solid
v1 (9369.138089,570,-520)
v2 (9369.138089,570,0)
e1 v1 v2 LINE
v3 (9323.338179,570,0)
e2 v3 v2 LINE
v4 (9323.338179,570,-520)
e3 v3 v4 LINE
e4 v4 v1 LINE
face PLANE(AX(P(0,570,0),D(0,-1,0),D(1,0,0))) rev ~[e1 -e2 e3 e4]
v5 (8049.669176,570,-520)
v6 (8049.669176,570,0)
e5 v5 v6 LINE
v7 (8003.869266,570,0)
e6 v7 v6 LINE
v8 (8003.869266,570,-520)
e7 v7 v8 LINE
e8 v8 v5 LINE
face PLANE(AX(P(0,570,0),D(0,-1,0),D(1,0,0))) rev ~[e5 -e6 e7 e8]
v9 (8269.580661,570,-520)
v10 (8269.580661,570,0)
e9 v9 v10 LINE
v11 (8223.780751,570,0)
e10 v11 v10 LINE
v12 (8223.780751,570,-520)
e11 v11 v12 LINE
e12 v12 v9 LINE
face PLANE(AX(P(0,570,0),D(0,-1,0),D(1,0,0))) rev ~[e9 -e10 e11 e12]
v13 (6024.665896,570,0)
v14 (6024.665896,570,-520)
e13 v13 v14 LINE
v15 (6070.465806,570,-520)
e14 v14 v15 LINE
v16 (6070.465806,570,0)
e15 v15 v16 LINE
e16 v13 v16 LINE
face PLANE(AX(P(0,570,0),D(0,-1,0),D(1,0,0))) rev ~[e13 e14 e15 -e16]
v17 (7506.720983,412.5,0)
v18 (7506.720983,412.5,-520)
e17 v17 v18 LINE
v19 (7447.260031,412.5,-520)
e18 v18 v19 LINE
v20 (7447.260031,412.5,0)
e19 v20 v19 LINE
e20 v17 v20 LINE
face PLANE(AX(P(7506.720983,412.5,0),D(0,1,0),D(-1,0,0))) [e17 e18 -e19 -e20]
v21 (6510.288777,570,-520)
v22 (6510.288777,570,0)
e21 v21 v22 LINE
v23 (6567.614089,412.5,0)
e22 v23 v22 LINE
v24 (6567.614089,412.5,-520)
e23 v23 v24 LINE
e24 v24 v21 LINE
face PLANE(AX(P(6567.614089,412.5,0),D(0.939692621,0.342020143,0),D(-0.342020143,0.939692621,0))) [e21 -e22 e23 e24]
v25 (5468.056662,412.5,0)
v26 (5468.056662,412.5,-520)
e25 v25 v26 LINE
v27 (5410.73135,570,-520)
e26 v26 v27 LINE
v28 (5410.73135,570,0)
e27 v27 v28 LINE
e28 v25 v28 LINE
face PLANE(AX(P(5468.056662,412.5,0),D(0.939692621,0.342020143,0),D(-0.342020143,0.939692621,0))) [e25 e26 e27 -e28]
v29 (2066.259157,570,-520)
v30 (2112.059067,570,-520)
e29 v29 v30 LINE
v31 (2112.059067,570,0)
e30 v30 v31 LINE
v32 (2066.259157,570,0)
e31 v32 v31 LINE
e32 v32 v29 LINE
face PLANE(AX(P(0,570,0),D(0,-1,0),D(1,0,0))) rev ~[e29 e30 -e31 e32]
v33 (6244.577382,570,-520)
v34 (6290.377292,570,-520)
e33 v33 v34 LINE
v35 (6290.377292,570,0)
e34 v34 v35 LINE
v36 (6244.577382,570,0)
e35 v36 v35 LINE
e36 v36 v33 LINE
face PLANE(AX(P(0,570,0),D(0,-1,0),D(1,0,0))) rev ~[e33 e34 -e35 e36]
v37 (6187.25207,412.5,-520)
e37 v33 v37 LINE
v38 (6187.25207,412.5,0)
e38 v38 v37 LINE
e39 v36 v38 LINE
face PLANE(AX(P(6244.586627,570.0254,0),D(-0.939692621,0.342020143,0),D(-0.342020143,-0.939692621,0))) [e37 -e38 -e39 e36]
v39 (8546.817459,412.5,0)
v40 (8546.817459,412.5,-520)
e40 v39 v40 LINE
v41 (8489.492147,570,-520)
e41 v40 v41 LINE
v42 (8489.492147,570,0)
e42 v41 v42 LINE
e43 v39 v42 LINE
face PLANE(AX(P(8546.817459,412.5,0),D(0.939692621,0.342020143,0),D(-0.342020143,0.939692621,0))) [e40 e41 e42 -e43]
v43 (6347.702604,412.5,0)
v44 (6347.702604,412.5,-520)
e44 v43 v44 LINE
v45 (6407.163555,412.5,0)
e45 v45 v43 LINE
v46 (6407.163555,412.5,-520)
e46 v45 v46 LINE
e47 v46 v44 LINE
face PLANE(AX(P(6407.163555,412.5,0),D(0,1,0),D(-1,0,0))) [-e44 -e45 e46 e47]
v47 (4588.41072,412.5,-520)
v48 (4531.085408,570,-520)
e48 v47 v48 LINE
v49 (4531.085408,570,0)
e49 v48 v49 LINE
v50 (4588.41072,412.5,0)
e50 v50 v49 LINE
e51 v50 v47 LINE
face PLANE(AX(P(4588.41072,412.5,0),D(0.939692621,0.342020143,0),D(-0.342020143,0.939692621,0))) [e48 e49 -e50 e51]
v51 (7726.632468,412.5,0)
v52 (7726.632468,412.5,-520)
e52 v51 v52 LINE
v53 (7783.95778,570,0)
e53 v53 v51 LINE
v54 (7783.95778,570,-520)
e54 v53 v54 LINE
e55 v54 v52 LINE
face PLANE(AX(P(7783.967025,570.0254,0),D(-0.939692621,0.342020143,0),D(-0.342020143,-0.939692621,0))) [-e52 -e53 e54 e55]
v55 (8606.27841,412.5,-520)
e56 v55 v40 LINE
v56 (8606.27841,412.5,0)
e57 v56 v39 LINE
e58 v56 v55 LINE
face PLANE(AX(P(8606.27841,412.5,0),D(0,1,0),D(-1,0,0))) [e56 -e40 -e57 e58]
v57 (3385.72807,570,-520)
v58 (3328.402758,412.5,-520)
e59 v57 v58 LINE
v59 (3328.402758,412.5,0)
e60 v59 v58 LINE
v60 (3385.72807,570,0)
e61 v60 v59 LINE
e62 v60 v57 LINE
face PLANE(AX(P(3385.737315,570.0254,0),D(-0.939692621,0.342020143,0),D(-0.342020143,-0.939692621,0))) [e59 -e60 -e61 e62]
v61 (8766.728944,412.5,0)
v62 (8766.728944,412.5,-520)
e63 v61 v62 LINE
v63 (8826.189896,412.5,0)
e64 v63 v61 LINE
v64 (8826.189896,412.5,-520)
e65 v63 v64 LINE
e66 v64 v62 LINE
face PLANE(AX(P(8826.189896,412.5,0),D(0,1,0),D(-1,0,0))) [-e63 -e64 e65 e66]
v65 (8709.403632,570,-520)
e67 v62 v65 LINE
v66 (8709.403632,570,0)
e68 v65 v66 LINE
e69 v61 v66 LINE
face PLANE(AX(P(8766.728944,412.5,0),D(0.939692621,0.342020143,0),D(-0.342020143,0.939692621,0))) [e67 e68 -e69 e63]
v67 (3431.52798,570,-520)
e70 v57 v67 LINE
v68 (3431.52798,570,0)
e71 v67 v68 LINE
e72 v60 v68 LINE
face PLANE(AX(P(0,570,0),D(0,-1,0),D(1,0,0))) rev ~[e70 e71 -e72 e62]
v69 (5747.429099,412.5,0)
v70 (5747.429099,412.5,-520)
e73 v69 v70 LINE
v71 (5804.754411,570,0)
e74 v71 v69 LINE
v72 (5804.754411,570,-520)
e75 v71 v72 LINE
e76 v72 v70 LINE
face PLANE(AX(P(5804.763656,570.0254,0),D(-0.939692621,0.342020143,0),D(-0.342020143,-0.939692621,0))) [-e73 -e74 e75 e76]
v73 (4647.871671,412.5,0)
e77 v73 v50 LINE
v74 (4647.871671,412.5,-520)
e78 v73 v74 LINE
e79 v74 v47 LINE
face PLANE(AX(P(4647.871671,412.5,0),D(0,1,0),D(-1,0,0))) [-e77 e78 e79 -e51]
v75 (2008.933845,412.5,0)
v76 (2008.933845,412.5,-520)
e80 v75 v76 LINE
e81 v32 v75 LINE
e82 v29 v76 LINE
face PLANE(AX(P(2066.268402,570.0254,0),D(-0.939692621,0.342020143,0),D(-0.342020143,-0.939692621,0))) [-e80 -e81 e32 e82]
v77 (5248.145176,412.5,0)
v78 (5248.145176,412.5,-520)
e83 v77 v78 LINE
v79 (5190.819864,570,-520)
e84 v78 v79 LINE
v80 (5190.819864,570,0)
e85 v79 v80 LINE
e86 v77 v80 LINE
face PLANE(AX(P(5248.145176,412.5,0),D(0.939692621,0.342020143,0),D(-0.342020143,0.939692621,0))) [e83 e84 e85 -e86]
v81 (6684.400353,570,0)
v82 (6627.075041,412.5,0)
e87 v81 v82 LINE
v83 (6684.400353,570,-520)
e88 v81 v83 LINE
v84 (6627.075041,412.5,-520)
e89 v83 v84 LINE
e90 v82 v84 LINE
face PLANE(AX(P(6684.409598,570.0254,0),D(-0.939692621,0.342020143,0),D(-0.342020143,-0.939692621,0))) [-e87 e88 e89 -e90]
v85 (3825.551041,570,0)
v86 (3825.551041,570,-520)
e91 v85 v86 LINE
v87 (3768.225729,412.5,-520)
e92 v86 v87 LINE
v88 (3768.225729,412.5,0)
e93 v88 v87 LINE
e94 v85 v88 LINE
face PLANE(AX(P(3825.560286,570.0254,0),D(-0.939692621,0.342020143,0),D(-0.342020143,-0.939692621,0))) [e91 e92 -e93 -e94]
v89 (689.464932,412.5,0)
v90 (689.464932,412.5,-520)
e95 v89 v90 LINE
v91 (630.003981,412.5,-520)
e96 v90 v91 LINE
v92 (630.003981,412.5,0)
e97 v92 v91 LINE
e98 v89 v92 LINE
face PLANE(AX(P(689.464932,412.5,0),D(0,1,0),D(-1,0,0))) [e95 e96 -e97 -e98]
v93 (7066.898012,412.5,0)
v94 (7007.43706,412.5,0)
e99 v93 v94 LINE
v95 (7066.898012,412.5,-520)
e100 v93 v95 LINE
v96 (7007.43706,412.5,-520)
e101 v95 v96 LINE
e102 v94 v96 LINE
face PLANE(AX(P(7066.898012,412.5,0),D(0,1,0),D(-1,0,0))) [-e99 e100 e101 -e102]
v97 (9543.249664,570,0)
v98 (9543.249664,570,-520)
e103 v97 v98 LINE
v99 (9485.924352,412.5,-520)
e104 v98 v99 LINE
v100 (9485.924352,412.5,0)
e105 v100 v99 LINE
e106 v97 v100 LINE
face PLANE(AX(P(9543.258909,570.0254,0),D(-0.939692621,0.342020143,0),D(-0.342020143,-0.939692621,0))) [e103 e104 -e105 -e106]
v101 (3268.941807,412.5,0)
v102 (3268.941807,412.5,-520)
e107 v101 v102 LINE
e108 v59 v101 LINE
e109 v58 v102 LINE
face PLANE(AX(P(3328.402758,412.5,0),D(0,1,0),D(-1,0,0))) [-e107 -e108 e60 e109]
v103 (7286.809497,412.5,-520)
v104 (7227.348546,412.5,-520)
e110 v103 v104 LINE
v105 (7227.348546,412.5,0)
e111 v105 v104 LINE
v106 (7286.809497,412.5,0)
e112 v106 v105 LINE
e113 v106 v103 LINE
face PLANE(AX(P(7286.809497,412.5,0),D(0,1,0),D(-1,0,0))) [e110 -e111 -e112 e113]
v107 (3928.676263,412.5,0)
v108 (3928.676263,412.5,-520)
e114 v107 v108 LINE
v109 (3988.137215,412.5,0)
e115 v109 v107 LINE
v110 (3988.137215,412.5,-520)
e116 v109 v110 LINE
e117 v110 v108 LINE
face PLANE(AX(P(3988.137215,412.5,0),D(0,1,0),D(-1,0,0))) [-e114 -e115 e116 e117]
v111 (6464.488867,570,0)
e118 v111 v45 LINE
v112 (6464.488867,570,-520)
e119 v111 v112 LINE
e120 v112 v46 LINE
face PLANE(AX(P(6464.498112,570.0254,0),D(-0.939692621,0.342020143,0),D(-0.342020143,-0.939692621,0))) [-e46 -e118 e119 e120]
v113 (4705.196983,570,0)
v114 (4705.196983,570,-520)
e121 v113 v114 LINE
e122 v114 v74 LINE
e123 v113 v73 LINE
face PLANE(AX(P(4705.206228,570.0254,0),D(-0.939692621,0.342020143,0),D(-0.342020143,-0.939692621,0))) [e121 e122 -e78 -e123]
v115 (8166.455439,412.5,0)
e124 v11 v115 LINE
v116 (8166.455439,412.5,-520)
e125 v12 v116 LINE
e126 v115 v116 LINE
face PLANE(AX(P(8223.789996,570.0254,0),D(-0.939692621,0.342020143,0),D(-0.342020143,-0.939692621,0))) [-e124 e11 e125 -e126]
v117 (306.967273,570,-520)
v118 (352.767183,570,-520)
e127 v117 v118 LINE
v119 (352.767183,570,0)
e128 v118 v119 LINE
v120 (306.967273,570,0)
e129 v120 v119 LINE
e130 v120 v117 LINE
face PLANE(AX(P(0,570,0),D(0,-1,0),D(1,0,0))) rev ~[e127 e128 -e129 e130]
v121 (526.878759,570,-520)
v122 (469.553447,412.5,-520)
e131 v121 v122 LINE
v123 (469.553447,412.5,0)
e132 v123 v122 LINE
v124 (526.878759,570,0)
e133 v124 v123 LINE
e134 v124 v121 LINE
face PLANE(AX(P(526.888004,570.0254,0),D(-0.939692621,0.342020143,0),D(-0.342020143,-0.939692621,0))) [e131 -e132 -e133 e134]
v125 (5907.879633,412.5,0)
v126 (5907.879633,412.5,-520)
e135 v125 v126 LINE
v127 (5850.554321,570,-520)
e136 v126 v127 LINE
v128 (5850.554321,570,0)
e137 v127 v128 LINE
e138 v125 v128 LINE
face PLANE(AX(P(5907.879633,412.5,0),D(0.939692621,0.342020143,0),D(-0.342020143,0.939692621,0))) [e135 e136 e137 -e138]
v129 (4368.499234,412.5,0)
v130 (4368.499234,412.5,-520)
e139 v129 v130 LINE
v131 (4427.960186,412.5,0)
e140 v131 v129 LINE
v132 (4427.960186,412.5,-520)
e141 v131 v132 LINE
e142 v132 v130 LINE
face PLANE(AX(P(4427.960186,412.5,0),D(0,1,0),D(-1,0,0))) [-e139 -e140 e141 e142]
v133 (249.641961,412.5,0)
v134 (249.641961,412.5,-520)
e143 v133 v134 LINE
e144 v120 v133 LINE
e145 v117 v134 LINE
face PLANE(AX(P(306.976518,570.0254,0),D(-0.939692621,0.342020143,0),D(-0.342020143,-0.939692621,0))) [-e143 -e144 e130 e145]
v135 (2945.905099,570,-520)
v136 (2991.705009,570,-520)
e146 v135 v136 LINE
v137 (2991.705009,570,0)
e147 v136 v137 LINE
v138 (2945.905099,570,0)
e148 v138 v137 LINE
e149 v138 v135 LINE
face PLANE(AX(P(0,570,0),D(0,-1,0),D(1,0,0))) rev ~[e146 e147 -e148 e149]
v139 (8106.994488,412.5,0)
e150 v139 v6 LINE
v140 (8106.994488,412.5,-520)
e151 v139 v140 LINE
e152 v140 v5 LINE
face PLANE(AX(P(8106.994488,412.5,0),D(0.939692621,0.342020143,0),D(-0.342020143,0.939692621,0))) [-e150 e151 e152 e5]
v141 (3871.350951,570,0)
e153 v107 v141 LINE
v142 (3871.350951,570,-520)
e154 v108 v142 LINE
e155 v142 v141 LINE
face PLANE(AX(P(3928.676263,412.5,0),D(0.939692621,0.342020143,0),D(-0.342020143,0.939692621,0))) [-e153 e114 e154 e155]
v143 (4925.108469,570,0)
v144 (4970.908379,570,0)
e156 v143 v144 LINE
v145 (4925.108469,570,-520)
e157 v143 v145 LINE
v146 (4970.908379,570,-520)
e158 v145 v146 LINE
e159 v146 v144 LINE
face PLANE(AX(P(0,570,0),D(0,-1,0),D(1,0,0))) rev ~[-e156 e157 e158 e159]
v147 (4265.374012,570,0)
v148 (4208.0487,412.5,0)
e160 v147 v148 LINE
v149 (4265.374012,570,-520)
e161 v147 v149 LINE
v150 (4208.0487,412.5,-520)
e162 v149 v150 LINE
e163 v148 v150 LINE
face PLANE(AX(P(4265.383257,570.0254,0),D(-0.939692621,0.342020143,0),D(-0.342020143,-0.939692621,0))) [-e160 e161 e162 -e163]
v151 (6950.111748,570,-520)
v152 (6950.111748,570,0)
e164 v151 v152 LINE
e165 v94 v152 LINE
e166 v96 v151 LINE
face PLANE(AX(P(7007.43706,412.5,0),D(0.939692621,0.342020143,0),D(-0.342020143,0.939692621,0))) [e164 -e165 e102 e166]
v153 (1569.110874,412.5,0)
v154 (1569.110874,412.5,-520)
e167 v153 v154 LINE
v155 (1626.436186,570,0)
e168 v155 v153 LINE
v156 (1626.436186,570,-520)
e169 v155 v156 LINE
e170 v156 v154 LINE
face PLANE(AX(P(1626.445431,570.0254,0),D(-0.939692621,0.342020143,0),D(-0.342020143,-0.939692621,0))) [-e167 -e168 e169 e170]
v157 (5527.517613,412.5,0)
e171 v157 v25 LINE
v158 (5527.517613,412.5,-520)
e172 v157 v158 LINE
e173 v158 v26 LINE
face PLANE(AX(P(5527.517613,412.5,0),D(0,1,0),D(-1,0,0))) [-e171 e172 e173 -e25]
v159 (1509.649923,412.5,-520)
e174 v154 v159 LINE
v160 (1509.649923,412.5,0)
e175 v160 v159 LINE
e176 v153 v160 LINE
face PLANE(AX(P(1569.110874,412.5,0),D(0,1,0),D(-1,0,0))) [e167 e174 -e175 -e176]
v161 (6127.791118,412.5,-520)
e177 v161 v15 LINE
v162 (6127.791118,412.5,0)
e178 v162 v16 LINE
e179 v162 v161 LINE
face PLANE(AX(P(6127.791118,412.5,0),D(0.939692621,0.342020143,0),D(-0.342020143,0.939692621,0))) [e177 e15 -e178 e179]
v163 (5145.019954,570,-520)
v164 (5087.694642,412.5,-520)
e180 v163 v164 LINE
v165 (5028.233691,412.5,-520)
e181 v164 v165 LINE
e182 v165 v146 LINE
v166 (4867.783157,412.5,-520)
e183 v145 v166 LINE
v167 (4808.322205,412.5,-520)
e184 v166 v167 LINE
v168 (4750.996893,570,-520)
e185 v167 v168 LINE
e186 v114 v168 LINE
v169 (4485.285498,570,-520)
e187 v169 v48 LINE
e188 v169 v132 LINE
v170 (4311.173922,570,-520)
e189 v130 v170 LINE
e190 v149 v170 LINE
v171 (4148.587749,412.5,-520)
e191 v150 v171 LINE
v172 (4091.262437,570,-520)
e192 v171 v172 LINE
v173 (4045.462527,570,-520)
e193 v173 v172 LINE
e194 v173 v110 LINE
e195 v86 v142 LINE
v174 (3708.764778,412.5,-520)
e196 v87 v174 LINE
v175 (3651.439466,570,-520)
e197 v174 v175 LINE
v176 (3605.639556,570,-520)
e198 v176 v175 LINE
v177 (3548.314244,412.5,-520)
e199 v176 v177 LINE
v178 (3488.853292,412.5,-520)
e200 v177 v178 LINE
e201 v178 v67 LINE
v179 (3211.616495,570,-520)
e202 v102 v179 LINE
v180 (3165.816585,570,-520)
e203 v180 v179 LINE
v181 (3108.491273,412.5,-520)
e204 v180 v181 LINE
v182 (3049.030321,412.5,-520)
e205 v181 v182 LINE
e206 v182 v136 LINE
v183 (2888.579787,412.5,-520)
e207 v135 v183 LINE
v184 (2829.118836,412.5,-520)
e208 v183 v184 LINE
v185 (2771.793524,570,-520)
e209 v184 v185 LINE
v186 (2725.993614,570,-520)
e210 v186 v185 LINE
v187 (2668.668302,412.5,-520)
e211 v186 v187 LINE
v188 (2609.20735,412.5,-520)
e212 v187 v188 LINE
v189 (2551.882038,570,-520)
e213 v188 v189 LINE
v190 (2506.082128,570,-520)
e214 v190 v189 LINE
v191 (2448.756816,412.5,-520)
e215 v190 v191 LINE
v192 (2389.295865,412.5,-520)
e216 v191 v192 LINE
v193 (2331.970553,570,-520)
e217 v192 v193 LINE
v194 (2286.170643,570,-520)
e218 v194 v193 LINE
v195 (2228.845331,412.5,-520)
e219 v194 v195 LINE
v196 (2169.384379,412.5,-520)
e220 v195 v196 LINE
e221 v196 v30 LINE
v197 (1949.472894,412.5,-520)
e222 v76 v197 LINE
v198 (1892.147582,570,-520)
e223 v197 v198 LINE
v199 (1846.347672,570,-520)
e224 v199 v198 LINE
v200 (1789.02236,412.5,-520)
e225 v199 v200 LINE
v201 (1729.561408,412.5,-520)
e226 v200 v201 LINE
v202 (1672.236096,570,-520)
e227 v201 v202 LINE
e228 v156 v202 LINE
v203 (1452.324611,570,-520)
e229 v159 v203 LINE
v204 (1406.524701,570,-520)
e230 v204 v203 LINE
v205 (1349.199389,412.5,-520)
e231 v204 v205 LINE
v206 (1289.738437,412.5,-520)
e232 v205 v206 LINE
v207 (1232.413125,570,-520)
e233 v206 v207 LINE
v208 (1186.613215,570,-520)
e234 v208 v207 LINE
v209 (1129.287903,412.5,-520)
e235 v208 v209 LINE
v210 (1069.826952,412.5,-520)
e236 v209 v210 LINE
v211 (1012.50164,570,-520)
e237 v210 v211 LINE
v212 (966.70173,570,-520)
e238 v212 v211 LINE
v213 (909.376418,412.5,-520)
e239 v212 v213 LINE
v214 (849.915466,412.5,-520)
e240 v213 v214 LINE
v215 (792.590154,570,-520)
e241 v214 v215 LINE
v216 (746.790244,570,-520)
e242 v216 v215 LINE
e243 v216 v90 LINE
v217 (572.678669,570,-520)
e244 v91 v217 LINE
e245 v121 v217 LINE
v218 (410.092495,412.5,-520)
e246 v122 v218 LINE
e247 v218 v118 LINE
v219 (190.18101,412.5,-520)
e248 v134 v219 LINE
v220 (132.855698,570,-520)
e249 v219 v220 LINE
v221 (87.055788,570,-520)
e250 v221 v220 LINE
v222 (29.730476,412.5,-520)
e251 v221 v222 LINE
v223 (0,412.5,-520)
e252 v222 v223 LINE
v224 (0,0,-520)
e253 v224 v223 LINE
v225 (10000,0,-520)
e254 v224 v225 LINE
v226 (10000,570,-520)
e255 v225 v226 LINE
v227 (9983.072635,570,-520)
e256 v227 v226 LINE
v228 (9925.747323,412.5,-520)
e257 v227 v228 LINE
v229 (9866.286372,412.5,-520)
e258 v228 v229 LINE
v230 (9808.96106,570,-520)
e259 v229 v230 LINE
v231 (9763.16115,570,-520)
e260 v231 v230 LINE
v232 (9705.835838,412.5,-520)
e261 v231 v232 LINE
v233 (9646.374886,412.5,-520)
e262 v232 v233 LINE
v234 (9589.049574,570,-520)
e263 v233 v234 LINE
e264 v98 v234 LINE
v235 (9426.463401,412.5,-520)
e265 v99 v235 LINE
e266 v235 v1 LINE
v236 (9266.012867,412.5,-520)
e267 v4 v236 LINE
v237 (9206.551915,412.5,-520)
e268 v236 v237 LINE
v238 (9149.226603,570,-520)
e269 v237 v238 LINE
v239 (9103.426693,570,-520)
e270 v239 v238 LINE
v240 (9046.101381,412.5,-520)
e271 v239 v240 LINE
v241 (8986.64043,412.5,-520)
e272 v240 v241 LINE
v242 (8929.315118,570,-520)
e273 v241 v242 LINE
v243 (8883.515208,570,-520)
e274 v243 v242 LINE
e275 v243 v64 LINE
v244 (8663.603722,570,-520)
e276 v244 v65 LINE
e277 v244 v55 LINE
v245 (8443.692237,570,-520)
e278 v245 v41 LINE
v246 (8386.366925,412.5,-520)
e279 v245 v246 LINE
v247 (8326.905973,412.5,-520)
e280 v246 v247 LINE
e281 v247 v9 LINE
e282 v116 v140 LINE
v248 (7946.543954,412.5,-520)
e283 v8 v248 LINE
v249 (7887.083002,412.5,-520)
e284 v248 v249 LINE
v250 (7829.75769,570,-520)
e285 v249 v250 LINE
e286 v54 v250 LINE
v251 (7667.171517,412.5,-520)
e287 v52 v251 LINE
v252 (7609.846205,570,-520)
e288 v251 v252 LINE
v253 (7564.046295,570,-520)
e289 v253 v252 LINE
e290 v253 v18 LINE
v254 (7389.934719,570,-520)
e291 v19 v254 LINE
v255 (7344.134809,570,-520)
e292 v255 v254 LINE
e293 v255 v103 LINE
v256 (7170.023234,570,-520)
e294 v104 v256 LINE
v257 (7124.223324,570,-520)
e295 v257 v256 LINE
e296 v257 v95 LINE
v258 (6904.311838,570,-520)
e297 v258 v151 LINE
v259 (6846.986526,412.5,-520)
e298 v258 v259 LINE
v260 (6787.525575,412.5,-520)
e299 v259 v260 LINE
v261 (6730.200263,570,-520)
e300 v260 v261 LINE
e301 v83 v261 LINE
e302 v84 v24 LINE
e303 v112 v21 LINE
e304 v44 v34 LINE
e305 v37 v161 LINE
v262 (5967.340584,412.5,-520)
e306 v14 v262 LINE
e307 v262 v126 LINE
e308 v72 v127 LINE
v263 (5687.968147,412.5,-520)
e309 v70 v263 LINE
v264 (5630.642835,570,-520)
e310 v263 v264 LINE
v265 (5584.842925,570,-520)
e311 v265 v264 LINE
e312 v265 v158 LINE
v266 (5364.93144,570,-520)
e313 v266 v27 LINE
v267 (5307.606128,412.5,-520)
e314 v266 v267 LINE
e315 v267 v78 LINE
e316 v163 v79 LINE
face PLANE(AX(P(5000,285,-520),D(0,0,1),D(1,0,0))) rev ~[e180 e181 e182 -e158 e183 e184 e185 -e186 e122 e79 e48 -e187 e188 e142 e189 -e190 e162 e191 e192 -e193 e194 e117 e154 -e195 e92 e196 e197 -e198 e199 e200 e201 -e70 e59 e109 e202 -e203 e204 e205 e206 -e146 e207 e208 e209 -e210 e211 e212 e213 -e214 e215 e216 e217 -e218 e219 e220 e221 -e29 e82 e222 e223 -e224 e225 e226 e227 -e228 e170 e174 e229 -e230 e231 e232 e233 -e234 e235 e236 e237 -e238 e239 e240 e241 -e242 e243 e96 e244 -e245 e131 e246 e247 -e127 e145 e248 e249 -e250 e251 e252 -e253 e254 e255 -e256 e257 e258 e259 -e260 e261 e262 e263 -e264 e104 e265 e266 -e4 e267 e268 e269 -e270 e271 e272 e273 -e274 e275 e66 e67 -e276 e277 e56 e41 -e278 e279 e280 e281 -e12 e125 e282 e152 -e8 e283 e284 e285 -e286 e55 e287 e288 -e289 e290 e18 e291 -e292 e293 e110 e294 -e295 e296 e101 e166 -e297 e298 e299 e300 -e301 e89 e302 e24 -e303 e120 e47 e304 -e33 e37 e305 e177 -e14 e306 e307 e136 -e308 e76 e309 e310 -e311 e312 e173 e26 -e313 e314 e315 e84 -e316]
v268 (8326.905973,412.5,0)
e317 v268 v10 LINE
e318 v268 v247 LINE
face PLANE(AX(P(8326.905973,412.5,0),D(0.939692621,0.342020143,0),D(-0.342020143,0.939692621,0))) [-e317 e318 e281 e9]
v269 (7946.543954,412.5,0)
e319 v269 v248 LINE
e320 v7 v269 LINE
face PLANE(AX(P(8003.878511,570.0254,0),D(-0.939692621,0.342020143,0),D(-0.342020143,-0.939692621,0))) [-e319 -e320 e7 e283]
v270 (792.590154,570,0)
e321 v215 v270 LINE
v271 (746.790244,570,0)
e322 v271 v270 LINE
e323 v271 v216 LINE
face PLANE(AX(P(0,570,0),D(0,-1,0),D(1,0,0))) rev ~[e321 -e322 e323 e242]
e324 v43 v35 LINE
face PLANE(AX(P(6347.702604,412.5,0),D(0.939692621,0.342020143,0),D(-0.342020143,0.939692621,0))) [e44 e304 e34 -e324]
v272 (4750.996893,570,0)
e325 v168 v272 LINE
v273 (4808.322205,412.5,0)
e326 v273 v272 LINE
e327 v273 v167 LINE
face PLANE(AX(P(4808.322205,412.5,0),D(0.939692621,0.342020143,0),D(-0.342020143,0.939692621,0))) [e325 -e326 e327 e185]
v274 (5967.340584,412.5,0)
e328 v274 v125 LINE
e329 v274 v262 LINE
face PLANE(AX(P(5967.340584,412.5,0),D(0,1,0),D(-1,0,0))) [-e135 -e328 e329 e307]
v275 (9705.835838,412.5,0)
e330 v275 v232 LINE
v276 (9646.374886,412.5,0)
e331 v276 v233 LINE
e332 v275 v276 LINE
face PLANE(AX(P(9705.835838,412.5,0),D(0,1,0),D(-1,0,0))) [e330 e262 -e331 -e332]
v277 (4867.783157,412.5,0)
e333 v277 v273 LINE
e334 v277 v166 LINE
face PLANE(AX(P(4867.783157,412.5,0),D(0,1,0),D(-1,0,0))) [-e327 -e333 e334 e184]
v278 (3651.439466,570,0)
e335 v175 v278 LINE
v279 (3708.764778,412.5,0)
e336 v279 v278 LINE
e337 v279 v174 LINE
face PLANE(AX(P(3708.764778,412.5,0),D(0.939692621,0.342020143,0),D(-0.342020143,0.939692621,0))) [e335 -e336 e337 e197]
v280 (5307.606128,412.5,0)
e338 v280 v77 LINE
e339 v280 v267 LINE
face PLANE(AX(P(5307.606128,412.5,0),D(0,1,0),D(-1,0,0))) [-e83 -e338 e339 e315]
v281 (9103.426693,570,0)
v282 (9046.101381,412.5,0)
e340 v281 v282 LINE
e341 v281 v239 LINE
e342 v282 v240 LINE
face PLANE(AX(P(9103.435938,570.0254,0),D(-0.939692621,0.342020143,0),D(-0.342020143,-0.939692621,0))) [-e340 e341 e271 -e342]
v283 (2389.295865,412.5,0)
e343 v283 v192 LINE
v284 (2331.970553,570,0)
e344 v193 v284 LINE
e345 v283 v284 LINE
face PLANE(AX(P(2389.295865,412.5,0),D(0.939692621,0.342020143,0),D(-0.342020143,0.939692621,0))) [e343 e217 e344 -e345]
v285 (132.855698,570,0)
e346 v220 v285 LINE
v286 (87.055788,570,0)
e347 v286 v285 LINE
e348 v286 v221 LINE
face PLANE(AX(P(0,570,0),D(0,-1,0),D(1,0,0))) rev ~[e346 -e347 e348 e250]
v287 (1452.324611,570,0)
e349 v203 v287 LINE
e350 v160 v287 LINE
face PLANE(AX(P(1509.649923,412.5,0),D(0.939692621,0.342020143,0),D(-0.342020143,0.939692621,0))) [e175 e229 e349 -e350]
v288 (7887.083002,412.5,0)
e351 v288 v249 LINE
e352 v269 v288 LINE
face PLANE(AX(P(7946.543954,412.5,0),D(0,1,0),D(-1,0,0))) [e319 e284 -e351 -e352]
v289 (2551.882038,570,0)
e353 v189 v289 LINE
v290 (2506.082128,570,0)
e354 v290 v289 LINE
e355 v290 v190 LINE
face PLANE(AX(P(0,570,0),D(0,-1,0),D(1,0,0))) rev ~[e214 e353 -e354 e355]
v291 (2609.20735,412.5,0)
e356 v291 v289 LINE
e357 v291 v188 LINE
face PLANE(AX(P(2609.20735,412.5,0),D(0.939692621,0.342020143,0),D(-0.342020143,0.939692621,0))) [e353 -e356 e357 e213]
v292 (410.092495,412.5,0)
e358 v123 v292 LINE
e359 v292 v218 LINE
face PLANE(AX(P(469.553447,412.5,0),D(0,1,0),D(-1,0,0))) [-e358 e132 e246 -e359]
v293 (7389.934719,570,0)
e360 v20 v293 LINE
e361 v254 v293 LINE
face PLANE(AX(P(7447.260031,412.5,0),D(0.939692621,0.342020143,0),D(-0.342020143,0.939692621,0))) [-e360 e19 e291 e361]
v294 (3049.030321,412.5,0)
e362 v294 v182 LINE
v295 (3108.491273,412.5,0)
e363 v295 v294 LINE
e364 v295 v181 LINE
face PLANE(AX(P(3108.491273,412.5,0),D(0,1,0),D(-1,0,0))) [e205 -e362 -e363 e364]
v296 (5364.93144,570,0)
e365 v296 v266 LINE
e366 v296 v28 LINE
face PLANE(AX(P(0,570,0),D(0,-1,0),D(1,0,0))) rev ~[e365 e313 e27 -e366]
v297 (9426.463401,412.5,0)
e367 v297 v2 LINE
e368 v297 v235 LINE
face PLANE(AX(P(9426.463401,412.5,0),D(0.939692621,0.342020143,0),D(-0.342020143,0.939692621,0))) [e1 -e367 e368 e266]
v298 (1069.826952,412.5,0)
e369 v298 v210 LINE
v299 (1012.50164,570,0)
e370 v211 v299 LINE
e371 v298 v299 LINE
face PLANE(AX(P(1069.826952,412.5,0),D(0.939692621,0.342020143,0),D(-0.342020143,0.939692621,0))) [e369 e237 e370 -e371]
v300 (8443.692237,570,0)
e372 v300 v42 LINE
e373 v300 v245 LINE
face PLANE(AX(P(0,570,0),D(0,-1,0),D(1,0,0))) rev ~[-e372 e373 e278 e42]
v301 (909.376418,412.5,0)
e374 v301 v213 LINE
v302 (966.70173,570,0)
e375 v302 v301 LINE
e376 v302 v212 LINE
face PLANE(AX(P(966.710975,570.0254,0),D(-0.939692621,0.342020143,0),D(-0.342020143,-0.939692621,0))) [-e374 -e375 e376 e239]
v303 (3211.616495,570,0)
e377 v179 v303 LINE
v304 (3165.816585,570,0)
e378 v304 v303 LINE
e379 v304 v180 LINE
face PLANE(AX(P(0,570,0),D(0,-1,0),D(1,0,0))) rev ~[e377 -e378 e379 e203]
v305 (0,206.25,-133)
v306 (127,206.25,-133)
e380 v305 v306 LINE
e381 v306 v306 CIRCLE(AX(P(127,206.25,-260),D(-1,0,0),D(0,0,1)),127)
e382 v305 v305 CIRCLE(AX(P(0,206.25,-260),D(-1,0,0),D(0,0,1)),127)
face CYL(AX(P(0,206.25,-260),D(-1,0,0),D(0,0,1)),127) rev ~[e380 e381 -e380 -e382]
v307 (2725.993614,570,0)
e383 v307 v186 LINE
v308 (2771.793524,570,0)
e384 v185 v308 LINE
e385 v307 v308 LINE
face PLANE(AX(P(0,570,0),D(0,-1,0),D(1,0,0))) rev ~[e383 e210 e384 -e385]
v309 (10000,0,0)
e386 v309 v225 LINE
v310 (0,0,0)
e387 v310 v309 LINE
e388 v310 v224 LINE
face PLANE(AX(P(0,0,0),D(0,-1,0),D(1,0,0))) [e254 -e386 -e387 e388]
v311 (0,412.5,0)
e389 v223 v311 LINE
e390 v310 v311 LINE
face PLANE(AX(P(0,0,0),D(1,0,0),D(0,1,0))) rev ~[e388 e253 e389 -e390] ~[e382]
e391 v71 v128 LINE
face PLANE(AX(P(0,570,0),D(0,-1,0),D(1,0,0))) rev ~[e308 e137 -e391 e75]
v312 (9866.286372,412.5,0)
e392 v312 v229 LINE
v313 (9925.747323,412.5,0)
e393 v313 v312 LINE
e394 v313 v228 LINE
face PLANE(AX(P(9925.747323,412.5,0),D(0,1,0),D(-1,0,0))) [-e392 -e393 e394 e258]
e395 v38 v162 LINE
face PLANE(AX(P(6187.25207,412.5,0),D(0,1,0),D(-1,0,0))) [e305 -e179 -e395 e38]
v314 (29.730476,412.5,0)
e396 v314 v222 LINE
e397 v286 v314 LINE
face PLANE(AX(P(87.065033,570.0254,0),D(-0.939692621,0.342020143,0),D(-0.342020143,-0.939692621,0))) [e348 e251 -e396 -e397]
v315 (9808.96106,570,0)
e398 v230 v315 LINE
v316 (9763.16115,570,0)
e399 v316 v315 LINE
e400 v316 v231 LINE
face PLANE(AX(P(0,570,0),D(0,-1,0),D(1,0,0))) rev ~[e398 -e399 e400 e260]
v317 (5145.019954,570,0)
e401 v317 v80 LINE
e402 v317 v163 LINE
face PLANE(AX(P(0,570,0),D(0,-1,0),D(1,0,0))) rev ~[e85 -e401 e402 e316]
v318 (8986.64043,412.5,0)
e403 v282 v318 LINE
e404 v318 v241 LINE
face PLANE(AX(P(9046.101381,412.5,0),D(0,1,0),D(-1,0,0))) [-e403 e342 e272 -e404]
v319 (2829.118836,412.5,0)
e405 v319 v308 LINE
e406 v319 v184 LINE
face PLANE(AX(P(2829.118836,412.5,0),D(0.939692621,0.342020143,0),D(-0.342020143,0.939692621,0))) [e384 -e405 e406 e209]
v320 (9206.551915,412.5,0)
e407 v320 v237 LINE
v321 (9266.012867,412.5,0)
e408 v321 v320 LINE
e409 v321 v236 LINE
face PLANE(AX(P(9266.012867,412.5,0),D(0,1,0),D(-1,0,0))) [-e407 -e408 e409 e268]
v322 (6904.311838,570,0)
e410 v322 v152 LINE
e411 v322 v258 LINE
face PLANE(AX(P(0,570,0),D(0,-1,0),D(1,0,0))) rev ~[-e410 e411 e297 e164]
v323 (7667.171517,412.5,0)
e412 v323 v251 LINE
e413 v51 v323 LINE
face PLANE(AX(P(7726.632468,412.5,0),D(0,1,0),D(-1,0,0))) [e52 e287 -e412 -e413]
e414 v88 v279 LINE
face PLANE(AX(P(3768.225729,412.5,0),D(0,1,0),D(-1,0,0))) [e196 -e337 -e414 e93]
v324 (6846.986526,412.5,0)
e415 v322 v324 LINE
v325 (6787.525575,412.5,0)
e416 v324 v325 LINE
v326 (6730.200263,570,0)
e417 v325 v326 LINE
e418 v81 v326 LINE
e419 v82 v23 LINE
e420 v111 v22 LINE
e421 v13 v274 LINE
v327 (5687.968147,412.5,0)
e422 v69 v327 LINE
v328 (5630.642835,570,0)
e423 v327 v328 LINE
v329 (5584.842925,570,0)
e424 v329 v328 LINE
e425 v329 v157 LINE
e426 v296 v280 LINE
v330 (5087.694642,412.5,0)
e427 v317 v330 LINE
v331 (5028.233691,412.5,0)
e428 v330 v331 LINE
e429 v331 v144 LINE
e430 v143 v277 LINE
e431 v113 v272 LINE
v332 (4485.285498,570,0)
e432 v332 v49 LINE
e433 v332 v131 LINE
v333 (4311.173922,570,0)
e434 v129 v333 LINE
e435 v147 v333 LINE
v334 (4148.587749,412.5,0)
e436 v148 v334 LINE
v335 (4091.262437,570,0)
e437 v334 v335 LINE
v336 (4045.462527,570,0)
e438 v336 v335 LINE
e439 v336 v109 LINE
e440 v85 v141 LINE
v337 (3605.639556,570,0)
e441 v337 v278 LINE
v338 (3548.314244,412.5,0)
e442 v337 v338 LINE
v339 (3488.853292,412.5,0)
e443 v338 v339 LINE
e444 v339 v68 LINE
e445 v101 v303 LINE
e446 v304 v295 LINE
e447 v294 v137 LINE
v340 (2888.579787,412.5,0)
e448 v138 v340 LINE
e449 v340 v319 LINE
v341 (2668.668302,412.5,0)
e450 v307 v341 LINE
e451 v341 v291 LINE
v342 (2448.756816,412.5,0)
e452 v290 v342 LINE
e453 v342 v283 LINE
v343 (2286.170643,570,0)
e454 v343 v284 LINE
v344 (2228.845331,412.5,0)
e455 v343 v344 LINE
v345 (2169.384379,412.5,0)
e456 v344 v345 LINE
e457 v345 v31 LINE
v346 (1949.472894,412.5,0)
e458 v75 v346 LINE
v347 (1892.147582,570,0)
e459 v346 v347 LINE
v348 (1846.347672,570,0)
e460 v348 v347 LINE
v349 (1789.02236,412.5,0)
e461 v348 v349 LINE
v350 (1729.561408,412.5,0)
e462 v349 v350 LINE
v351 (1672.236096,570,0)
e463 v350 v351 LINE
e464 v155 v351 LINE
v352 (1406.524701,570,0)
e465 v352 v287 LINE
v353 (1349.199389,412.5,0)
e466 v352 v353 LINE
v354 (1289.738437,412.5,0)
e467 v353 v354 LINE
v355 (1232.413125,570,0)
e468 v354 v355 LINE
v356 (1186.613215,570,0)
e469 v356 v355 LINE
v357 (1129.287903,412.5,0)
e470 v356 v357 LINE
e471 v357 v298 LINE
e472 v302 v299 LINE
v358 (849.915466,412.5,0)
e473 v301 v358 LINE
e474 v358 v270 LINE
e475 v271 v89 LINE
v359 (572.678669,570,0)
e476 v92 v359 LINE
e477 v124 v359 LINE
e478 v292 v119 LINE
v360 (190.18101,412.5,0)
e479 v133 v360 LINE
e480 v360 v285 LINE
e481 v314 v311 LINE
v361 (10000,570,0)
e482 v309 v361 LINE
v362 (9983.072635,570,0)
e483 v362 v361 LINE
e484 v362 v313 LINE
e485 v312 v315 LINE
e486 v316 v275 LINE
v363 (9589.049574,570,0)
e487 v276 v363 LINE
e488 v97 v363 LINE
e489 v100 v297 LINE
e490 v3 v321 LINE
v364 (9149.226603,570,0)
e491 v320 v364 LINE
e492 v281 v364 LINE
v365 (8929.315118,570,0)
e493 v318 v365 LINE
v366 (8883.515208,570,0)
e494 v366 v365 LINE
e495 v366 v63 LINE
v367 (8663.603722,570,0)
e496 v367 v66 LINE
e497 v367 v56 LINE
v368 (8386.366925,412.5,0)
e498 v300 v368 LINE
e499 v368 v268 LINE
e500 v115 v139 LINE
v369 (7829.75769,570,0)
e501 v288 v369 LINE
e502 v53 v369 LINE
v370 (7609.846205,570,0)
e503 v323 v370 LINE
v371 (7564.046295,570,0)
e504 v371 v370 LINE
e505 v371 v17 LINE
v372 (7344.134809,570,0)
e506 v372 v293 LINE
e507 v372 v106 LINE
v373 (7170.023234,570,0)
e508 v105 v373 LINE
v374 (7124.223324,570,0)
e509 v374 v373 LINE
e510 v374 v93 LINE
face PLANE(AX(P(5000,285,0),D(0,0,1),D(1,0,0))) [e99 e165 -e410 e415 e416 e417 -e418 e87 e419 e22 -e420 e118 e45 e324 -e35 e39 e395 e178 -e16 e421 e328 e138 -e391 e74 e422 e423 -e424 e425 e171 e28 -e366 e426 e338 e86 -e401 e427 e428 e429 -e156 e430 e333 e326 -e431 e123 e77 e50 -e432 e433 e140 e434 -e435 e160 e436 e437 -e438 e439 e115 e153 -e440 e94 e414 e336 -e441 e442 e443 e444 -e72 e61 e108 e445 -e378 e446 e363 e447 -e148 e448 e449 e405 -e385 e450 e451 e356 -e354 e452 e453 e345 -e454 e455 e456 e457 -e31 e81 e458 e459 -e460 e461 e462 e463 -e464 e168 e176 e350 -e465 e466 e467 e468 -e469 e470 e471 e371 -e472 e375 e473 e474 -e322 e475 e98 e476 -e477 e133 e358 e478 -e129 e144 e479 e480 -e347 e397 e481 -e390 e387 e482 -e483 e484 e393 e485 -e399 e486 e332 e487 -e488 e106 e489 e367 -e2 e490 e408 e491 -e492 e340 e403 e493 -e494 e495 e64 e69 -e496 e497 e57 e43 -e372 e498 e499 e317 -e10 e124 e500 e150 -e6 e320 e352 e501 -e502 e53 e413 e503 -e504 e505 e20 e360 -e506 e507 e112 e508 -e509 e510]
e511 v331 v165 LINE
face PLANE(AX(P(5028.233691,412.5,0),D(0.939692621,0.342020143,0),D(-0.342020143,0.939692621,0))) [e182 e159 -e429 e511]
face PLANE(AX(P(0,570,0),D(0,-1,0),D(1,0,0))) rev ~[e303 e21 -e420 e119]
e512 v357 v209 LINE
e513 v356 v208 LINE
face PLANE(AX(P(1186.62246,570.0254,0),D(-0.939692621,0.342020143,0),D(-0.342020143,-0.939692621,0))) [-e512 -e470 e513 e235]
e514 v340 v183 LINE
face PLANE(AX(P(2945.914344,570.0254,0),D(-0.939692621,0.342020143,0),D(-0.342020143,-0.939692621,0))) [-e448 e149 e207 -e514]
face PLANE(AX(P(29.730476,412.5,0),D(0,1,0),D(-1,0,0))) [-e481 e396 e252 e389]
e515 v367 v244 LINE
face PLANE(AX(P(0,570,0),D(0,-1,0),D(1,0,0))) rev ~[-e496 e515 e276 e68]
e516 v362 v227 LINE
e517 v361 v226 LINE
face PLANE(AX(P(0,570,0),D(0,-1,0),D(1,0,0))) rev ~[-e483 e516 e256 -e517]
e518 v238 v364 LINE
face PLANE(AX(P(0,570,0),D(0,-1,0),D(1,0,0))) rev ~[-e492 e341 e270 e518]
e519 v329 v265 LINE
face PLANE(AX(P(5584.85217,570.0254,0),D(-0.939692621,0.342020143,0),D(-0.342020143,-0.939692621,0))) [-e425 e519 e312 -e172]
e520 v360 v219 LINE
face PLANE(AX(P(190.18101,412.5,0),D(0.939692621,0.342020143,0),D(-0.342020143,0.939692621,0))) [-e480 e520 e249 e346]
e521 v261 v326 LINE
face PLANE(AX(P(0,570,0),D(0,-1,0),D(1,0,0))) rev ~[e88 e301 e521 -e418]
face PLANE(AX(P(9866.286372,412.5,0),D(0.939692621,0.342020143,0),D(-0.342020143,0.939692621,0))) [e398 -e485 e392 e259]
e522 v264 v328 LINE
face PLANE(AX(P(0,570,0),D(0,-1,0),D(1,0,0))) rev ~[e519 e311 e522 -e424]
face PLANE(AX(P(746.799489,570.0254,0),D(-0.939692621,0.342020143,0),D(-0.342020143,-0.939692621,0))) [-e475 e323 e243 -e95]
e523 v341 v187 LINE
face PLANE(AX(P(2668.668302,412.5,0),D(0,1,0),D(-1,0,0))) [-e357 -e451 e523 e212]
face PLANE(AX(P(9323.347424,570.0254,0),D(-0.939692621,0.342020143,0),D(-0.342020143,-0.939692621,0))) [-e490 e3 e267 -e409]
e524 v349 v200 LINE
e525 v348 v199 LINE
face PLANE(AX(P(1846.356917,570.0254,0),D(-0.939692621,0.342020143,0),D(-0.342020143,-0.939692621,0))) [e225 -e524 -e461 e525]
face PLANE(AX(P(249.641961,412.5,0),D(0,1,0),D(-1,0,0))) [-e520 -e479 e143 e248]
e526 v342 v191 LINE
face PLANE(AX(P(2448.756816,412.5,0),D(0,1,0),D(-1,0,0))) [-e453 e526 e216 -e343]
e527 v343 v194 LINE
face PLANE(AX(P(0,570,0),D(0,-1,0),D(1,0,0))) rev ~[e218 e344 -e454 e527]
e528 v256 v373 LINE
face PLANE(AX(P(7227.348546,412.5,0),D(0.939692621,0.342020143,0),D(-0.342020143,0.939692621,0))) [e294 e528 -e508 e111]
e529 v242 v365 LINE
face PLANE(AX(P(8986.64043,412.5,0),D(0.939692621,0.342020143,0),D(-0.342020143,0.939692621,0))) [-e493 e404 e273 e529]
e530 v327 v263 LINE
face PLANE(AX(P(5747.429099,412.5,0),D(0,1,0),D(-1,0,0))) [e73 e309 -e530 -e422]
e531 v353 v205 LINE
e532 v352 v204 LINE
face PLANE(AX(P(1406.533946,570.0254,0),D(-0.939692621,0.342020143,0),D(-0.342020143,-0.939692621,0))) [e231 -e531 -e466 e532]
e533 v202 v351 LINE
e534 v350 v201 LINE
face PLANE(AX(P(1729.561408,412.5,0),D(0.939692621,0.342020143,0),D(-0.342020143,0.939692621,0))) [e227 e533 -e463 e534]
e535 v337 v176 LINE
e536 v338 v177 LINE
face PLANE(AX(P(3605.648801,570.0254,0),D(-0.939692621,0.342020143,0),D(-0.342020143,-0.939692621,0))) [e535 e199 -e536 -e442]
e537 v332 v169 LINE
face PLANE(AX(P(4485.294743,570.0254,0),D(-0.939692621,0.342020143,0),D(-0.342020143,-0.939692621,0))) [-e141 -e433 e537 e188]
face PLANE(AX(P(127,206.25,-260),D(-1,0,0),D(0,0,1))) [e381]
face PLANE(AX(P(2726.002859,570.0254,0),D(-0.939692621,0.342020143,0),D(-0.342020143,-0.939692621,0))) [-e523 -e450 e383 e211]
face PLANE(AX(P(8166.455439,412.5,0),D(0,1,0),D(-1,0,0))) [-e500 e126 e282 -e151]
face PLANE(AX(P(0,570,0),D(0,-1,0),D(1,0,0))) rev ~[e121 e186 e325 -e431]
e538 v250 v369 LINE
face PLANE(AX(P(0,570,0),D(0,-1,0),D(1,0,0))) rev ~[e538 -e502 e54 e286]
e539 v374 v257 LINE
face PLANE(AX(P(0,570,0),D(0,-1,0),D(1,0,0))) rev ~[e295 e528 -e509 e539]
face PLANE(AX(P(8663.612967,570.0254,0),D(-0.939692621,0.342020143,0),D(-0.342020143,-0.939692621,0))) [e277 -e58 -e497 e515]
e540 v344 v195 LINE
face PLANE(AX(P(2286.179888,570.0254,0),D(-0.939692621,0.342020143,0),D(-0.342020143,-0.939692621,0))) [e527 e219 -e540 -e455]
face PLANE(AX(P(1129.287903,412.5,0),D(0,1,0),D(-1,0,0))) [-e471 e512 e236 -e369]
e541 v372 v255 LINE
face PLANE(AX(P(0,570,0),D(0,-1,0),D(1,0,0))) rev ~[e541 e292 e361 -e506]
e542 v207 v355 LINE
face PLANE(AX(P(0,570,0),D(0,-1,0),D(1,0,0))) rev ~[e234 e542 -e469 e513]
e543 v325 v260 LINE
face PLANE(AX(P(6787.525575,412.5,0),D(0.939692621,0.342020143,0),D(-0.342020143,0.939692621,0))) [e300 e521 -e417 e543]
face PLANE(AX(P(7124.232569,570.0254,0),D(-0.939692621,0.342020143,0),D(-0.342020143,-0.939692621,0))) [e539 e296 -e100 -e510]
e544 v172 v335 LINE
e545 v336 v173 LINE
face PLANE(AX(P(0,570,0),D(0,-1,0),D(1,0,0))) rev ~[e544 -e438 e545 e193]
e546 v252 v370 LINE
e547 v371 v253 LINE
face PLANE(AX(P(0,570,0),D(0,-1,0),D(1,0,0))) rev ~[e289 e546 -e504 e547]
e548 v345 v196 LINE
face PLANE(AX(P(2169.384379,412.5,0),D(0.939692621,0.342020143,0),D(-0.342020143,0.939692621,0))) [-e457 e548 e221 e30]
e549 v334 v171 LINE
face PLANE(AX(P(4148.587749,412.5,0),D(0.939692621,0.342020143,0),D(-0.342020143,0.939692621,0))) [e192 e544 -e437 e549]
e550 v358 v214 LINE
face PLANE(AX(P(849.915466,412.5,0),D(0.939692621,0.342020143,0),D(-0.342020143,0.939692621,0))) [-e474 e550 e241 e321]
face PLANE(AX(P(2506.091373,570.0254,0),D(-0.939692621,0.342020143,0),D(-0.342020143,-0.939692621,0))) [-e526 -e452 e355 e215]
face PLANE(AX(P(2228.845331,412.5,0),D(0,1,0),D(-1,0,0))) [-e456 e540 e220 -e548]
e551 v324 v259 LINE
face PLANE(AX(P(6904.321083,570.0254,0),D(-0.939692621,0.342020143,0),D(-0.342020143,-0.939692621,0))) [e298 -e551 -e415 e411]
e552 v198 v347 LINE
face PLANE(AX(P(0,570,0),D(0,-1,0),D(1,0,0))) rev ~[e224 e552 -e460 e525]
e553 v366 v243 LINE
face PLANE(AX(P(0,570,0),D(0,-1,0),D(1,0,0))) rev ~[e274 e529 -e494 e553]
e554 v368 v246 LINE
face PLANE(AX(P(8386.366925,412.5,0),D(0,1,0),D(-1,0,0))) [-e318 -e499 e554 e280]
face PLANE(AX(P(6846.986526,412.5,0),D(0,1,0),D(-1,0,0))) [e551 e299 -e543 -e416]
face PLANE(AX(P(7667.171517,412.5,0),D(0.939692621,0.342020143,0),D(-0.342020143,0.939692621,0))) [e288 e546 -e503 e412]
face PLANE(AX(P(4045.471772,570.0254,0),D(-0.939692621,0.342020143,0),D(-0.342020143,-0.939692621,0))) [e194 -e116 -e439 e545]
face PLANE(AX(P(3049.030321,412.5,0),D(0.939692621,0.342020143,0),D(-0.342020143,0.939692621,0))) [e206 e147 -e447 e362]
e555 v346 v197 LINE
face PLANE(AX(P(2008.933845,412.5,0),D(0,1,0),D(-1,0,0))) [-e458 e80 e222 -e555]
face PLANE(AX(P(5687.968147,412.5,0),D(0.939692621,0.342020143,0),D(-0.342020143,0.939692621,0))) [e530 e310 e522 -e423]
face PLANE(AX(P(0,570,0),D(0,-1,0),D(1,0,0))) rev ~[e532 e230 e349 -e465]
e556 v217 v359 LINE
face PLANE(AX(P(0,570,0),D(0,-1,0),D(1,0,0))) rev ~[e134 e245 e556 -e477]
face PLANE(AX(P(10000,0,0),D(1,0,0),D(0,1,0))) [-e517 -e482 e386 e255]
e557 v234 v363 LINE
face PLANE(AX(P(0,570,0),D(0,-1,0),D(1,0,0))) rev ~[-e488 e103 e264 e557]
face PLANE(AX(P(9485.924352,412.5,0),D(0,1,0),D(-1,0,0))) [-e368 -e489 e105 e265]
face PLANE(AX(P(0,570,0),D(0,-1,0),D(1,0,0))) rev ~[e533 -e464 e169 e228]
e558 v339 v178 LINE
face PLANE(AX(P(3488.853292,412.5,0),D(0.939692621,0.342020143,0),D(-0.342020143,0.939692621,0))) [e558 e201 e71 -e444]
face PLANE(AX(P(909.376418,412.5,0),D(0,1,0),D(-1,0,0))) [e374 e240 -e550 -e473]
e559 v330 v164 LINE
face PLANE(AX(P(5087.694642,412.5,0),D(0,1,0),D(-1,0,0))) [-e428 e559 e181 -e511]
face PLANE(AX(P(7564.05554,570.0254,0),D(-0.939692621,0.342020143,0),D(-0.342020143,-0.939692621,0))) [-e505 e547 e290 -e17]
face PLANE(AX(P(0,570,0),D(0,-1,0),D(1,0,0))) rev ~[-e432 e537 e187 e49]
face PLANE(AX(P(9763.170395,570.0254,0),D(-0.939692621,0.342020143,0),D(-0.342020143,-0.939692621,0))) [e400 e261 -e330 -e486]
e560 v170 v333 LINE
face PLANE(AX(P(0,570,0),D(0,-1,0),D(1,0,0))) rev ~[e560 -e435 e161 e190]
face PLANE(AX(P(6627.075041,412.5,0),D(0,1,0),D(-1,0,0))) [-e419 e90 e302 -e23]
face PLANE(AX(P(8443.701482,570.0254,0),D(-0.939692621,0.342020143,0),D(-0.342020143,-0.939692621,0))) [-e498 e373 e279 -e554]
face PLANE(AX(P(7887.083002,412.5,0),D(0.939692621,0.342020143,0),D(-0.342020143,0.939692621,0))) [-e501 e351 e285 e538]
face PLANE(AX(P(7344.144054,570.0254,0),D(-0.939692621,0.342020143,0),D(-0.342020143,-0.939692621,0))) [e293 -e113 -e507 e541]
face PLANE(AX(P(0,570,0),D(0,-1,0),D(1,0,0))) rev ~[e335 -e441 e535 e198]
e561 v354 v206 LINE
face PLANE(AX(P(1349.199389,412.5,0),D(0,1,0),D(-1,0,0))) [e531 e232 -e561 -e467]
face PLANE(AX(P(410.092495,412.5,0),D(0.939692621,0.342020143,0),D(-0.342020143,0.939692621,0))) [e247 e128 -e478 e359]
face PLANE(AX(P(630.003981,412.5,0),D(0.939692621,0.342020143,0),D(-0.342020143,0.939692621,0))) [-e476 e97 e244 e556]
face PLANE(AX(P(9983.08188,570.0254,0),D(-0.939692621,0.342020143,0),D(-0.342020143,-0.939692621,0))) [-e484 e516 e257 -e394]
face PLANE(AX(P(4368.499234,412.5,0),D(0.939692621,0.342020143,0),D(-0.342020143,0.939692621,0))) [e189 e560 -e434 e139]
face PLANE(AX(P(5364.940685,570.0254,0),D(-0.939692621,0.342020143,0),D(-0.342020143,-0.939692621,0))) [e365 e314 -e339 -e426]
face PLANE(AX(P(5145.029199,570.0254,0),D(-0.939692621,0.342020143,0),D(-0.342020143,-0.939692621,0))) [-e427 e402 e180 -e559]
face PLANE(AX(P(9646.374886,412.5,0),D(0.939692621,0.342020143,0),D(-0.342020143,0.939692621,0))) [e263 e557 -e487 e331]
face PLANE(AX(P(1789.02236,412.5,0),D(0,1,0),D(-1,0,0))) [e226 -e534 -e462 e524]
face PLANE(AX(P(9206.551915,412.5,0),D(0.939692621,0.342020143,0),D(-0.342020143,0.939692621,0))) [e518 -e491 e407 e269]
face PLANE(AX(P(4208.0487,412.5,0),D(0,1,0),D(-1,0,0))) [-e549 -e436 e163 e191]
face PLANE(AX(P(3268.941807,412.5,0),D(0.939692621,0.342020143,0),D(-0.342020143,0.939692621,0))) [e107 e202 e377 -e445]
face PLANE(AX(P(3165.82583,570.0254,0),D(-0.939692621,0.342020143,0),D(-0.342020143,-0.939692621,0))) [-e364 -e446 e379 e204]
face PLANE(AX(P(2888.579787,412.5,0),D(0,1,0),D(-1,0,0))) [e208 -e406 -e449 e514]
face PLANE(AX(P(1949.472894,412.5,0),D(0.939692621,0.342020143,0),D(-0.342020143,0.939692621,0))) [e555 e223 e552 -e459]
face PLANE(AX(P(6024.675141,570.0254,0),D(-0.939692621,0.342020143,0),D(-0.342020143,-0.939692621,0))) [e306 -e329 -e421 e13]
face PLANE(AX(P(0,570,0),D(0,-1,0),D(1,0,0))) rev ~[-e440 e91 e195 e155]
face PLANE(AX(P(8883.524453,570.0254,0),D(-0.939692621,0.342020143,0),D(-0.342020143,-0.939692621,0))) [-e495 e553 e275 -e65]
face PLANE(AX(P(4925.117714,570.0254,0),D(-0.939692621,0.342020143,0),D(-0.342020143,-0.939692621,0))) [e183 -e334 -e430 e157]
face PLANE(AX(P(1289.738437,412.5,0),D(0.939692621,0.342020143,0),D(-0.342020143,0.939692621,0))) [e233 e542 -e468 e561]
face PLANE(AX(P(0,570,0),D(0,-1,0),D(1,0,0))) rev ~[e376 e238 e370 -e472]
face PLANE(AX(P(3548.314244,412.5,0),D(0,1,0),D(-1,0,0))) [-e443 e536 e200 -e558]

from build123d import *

# Parameters (mm, degrees)
BLANKSKE_W         = 10000
BLANKSKE_H         = 570
BLANK_DEPTH        = 520
TOOTHCUTSIM_DEPTH  = 10030.720833602
TEETHCUTS_COUNT    = 46
TEETHCUTS_PITCH    = 219.9114855
SKETCH1_R          = 127
CUT_EXTRUDE1_DEPTH = 127


with BuildPart() as part:
    # BlankSke → Blank (new body)
    with BuildSketch(Plane.XY):
        with Locations((5000, 285)):
            Rectangle(BLANKSKE_W, BLANKSKE_H)
    extrude(amount=-BLANK_DEPTH)

    # TooCutSkeSim → ToothCutSim (cut, through all)
    with BuildSketch(Plane.XY):
        Polygon((29.730475877, 412.5), (-29.730475877, 412.5), (-87.065032618, 570.0254), (87.065032618, 570.0254), align=None)
    toothcutsim = extrude(amount=-TOOTHCUTSIM_DEPTH, mode=Mode.SUBTRACT)

    # TeethCuts: ToothCutSim ×46
    with Locations(*[(i * TEETHCUTS_PITCH, 0, 0) for i in range(1, TEETHCUTS_COUNT)]):
        add(toothcutsim, mode=Mode.SUBTRACT)

    # Sketch1 → Cut-Extrude1 (cut)
    with BuildSketch(Plane.ZY):
        with Locations((-260, 206.25)):
            Circle(SKETCH1_R)
    extrude(amount=-CUT_EXTRUDE1_DEPTH, mode=Mode.SUBTRACT)


solid = part.part
